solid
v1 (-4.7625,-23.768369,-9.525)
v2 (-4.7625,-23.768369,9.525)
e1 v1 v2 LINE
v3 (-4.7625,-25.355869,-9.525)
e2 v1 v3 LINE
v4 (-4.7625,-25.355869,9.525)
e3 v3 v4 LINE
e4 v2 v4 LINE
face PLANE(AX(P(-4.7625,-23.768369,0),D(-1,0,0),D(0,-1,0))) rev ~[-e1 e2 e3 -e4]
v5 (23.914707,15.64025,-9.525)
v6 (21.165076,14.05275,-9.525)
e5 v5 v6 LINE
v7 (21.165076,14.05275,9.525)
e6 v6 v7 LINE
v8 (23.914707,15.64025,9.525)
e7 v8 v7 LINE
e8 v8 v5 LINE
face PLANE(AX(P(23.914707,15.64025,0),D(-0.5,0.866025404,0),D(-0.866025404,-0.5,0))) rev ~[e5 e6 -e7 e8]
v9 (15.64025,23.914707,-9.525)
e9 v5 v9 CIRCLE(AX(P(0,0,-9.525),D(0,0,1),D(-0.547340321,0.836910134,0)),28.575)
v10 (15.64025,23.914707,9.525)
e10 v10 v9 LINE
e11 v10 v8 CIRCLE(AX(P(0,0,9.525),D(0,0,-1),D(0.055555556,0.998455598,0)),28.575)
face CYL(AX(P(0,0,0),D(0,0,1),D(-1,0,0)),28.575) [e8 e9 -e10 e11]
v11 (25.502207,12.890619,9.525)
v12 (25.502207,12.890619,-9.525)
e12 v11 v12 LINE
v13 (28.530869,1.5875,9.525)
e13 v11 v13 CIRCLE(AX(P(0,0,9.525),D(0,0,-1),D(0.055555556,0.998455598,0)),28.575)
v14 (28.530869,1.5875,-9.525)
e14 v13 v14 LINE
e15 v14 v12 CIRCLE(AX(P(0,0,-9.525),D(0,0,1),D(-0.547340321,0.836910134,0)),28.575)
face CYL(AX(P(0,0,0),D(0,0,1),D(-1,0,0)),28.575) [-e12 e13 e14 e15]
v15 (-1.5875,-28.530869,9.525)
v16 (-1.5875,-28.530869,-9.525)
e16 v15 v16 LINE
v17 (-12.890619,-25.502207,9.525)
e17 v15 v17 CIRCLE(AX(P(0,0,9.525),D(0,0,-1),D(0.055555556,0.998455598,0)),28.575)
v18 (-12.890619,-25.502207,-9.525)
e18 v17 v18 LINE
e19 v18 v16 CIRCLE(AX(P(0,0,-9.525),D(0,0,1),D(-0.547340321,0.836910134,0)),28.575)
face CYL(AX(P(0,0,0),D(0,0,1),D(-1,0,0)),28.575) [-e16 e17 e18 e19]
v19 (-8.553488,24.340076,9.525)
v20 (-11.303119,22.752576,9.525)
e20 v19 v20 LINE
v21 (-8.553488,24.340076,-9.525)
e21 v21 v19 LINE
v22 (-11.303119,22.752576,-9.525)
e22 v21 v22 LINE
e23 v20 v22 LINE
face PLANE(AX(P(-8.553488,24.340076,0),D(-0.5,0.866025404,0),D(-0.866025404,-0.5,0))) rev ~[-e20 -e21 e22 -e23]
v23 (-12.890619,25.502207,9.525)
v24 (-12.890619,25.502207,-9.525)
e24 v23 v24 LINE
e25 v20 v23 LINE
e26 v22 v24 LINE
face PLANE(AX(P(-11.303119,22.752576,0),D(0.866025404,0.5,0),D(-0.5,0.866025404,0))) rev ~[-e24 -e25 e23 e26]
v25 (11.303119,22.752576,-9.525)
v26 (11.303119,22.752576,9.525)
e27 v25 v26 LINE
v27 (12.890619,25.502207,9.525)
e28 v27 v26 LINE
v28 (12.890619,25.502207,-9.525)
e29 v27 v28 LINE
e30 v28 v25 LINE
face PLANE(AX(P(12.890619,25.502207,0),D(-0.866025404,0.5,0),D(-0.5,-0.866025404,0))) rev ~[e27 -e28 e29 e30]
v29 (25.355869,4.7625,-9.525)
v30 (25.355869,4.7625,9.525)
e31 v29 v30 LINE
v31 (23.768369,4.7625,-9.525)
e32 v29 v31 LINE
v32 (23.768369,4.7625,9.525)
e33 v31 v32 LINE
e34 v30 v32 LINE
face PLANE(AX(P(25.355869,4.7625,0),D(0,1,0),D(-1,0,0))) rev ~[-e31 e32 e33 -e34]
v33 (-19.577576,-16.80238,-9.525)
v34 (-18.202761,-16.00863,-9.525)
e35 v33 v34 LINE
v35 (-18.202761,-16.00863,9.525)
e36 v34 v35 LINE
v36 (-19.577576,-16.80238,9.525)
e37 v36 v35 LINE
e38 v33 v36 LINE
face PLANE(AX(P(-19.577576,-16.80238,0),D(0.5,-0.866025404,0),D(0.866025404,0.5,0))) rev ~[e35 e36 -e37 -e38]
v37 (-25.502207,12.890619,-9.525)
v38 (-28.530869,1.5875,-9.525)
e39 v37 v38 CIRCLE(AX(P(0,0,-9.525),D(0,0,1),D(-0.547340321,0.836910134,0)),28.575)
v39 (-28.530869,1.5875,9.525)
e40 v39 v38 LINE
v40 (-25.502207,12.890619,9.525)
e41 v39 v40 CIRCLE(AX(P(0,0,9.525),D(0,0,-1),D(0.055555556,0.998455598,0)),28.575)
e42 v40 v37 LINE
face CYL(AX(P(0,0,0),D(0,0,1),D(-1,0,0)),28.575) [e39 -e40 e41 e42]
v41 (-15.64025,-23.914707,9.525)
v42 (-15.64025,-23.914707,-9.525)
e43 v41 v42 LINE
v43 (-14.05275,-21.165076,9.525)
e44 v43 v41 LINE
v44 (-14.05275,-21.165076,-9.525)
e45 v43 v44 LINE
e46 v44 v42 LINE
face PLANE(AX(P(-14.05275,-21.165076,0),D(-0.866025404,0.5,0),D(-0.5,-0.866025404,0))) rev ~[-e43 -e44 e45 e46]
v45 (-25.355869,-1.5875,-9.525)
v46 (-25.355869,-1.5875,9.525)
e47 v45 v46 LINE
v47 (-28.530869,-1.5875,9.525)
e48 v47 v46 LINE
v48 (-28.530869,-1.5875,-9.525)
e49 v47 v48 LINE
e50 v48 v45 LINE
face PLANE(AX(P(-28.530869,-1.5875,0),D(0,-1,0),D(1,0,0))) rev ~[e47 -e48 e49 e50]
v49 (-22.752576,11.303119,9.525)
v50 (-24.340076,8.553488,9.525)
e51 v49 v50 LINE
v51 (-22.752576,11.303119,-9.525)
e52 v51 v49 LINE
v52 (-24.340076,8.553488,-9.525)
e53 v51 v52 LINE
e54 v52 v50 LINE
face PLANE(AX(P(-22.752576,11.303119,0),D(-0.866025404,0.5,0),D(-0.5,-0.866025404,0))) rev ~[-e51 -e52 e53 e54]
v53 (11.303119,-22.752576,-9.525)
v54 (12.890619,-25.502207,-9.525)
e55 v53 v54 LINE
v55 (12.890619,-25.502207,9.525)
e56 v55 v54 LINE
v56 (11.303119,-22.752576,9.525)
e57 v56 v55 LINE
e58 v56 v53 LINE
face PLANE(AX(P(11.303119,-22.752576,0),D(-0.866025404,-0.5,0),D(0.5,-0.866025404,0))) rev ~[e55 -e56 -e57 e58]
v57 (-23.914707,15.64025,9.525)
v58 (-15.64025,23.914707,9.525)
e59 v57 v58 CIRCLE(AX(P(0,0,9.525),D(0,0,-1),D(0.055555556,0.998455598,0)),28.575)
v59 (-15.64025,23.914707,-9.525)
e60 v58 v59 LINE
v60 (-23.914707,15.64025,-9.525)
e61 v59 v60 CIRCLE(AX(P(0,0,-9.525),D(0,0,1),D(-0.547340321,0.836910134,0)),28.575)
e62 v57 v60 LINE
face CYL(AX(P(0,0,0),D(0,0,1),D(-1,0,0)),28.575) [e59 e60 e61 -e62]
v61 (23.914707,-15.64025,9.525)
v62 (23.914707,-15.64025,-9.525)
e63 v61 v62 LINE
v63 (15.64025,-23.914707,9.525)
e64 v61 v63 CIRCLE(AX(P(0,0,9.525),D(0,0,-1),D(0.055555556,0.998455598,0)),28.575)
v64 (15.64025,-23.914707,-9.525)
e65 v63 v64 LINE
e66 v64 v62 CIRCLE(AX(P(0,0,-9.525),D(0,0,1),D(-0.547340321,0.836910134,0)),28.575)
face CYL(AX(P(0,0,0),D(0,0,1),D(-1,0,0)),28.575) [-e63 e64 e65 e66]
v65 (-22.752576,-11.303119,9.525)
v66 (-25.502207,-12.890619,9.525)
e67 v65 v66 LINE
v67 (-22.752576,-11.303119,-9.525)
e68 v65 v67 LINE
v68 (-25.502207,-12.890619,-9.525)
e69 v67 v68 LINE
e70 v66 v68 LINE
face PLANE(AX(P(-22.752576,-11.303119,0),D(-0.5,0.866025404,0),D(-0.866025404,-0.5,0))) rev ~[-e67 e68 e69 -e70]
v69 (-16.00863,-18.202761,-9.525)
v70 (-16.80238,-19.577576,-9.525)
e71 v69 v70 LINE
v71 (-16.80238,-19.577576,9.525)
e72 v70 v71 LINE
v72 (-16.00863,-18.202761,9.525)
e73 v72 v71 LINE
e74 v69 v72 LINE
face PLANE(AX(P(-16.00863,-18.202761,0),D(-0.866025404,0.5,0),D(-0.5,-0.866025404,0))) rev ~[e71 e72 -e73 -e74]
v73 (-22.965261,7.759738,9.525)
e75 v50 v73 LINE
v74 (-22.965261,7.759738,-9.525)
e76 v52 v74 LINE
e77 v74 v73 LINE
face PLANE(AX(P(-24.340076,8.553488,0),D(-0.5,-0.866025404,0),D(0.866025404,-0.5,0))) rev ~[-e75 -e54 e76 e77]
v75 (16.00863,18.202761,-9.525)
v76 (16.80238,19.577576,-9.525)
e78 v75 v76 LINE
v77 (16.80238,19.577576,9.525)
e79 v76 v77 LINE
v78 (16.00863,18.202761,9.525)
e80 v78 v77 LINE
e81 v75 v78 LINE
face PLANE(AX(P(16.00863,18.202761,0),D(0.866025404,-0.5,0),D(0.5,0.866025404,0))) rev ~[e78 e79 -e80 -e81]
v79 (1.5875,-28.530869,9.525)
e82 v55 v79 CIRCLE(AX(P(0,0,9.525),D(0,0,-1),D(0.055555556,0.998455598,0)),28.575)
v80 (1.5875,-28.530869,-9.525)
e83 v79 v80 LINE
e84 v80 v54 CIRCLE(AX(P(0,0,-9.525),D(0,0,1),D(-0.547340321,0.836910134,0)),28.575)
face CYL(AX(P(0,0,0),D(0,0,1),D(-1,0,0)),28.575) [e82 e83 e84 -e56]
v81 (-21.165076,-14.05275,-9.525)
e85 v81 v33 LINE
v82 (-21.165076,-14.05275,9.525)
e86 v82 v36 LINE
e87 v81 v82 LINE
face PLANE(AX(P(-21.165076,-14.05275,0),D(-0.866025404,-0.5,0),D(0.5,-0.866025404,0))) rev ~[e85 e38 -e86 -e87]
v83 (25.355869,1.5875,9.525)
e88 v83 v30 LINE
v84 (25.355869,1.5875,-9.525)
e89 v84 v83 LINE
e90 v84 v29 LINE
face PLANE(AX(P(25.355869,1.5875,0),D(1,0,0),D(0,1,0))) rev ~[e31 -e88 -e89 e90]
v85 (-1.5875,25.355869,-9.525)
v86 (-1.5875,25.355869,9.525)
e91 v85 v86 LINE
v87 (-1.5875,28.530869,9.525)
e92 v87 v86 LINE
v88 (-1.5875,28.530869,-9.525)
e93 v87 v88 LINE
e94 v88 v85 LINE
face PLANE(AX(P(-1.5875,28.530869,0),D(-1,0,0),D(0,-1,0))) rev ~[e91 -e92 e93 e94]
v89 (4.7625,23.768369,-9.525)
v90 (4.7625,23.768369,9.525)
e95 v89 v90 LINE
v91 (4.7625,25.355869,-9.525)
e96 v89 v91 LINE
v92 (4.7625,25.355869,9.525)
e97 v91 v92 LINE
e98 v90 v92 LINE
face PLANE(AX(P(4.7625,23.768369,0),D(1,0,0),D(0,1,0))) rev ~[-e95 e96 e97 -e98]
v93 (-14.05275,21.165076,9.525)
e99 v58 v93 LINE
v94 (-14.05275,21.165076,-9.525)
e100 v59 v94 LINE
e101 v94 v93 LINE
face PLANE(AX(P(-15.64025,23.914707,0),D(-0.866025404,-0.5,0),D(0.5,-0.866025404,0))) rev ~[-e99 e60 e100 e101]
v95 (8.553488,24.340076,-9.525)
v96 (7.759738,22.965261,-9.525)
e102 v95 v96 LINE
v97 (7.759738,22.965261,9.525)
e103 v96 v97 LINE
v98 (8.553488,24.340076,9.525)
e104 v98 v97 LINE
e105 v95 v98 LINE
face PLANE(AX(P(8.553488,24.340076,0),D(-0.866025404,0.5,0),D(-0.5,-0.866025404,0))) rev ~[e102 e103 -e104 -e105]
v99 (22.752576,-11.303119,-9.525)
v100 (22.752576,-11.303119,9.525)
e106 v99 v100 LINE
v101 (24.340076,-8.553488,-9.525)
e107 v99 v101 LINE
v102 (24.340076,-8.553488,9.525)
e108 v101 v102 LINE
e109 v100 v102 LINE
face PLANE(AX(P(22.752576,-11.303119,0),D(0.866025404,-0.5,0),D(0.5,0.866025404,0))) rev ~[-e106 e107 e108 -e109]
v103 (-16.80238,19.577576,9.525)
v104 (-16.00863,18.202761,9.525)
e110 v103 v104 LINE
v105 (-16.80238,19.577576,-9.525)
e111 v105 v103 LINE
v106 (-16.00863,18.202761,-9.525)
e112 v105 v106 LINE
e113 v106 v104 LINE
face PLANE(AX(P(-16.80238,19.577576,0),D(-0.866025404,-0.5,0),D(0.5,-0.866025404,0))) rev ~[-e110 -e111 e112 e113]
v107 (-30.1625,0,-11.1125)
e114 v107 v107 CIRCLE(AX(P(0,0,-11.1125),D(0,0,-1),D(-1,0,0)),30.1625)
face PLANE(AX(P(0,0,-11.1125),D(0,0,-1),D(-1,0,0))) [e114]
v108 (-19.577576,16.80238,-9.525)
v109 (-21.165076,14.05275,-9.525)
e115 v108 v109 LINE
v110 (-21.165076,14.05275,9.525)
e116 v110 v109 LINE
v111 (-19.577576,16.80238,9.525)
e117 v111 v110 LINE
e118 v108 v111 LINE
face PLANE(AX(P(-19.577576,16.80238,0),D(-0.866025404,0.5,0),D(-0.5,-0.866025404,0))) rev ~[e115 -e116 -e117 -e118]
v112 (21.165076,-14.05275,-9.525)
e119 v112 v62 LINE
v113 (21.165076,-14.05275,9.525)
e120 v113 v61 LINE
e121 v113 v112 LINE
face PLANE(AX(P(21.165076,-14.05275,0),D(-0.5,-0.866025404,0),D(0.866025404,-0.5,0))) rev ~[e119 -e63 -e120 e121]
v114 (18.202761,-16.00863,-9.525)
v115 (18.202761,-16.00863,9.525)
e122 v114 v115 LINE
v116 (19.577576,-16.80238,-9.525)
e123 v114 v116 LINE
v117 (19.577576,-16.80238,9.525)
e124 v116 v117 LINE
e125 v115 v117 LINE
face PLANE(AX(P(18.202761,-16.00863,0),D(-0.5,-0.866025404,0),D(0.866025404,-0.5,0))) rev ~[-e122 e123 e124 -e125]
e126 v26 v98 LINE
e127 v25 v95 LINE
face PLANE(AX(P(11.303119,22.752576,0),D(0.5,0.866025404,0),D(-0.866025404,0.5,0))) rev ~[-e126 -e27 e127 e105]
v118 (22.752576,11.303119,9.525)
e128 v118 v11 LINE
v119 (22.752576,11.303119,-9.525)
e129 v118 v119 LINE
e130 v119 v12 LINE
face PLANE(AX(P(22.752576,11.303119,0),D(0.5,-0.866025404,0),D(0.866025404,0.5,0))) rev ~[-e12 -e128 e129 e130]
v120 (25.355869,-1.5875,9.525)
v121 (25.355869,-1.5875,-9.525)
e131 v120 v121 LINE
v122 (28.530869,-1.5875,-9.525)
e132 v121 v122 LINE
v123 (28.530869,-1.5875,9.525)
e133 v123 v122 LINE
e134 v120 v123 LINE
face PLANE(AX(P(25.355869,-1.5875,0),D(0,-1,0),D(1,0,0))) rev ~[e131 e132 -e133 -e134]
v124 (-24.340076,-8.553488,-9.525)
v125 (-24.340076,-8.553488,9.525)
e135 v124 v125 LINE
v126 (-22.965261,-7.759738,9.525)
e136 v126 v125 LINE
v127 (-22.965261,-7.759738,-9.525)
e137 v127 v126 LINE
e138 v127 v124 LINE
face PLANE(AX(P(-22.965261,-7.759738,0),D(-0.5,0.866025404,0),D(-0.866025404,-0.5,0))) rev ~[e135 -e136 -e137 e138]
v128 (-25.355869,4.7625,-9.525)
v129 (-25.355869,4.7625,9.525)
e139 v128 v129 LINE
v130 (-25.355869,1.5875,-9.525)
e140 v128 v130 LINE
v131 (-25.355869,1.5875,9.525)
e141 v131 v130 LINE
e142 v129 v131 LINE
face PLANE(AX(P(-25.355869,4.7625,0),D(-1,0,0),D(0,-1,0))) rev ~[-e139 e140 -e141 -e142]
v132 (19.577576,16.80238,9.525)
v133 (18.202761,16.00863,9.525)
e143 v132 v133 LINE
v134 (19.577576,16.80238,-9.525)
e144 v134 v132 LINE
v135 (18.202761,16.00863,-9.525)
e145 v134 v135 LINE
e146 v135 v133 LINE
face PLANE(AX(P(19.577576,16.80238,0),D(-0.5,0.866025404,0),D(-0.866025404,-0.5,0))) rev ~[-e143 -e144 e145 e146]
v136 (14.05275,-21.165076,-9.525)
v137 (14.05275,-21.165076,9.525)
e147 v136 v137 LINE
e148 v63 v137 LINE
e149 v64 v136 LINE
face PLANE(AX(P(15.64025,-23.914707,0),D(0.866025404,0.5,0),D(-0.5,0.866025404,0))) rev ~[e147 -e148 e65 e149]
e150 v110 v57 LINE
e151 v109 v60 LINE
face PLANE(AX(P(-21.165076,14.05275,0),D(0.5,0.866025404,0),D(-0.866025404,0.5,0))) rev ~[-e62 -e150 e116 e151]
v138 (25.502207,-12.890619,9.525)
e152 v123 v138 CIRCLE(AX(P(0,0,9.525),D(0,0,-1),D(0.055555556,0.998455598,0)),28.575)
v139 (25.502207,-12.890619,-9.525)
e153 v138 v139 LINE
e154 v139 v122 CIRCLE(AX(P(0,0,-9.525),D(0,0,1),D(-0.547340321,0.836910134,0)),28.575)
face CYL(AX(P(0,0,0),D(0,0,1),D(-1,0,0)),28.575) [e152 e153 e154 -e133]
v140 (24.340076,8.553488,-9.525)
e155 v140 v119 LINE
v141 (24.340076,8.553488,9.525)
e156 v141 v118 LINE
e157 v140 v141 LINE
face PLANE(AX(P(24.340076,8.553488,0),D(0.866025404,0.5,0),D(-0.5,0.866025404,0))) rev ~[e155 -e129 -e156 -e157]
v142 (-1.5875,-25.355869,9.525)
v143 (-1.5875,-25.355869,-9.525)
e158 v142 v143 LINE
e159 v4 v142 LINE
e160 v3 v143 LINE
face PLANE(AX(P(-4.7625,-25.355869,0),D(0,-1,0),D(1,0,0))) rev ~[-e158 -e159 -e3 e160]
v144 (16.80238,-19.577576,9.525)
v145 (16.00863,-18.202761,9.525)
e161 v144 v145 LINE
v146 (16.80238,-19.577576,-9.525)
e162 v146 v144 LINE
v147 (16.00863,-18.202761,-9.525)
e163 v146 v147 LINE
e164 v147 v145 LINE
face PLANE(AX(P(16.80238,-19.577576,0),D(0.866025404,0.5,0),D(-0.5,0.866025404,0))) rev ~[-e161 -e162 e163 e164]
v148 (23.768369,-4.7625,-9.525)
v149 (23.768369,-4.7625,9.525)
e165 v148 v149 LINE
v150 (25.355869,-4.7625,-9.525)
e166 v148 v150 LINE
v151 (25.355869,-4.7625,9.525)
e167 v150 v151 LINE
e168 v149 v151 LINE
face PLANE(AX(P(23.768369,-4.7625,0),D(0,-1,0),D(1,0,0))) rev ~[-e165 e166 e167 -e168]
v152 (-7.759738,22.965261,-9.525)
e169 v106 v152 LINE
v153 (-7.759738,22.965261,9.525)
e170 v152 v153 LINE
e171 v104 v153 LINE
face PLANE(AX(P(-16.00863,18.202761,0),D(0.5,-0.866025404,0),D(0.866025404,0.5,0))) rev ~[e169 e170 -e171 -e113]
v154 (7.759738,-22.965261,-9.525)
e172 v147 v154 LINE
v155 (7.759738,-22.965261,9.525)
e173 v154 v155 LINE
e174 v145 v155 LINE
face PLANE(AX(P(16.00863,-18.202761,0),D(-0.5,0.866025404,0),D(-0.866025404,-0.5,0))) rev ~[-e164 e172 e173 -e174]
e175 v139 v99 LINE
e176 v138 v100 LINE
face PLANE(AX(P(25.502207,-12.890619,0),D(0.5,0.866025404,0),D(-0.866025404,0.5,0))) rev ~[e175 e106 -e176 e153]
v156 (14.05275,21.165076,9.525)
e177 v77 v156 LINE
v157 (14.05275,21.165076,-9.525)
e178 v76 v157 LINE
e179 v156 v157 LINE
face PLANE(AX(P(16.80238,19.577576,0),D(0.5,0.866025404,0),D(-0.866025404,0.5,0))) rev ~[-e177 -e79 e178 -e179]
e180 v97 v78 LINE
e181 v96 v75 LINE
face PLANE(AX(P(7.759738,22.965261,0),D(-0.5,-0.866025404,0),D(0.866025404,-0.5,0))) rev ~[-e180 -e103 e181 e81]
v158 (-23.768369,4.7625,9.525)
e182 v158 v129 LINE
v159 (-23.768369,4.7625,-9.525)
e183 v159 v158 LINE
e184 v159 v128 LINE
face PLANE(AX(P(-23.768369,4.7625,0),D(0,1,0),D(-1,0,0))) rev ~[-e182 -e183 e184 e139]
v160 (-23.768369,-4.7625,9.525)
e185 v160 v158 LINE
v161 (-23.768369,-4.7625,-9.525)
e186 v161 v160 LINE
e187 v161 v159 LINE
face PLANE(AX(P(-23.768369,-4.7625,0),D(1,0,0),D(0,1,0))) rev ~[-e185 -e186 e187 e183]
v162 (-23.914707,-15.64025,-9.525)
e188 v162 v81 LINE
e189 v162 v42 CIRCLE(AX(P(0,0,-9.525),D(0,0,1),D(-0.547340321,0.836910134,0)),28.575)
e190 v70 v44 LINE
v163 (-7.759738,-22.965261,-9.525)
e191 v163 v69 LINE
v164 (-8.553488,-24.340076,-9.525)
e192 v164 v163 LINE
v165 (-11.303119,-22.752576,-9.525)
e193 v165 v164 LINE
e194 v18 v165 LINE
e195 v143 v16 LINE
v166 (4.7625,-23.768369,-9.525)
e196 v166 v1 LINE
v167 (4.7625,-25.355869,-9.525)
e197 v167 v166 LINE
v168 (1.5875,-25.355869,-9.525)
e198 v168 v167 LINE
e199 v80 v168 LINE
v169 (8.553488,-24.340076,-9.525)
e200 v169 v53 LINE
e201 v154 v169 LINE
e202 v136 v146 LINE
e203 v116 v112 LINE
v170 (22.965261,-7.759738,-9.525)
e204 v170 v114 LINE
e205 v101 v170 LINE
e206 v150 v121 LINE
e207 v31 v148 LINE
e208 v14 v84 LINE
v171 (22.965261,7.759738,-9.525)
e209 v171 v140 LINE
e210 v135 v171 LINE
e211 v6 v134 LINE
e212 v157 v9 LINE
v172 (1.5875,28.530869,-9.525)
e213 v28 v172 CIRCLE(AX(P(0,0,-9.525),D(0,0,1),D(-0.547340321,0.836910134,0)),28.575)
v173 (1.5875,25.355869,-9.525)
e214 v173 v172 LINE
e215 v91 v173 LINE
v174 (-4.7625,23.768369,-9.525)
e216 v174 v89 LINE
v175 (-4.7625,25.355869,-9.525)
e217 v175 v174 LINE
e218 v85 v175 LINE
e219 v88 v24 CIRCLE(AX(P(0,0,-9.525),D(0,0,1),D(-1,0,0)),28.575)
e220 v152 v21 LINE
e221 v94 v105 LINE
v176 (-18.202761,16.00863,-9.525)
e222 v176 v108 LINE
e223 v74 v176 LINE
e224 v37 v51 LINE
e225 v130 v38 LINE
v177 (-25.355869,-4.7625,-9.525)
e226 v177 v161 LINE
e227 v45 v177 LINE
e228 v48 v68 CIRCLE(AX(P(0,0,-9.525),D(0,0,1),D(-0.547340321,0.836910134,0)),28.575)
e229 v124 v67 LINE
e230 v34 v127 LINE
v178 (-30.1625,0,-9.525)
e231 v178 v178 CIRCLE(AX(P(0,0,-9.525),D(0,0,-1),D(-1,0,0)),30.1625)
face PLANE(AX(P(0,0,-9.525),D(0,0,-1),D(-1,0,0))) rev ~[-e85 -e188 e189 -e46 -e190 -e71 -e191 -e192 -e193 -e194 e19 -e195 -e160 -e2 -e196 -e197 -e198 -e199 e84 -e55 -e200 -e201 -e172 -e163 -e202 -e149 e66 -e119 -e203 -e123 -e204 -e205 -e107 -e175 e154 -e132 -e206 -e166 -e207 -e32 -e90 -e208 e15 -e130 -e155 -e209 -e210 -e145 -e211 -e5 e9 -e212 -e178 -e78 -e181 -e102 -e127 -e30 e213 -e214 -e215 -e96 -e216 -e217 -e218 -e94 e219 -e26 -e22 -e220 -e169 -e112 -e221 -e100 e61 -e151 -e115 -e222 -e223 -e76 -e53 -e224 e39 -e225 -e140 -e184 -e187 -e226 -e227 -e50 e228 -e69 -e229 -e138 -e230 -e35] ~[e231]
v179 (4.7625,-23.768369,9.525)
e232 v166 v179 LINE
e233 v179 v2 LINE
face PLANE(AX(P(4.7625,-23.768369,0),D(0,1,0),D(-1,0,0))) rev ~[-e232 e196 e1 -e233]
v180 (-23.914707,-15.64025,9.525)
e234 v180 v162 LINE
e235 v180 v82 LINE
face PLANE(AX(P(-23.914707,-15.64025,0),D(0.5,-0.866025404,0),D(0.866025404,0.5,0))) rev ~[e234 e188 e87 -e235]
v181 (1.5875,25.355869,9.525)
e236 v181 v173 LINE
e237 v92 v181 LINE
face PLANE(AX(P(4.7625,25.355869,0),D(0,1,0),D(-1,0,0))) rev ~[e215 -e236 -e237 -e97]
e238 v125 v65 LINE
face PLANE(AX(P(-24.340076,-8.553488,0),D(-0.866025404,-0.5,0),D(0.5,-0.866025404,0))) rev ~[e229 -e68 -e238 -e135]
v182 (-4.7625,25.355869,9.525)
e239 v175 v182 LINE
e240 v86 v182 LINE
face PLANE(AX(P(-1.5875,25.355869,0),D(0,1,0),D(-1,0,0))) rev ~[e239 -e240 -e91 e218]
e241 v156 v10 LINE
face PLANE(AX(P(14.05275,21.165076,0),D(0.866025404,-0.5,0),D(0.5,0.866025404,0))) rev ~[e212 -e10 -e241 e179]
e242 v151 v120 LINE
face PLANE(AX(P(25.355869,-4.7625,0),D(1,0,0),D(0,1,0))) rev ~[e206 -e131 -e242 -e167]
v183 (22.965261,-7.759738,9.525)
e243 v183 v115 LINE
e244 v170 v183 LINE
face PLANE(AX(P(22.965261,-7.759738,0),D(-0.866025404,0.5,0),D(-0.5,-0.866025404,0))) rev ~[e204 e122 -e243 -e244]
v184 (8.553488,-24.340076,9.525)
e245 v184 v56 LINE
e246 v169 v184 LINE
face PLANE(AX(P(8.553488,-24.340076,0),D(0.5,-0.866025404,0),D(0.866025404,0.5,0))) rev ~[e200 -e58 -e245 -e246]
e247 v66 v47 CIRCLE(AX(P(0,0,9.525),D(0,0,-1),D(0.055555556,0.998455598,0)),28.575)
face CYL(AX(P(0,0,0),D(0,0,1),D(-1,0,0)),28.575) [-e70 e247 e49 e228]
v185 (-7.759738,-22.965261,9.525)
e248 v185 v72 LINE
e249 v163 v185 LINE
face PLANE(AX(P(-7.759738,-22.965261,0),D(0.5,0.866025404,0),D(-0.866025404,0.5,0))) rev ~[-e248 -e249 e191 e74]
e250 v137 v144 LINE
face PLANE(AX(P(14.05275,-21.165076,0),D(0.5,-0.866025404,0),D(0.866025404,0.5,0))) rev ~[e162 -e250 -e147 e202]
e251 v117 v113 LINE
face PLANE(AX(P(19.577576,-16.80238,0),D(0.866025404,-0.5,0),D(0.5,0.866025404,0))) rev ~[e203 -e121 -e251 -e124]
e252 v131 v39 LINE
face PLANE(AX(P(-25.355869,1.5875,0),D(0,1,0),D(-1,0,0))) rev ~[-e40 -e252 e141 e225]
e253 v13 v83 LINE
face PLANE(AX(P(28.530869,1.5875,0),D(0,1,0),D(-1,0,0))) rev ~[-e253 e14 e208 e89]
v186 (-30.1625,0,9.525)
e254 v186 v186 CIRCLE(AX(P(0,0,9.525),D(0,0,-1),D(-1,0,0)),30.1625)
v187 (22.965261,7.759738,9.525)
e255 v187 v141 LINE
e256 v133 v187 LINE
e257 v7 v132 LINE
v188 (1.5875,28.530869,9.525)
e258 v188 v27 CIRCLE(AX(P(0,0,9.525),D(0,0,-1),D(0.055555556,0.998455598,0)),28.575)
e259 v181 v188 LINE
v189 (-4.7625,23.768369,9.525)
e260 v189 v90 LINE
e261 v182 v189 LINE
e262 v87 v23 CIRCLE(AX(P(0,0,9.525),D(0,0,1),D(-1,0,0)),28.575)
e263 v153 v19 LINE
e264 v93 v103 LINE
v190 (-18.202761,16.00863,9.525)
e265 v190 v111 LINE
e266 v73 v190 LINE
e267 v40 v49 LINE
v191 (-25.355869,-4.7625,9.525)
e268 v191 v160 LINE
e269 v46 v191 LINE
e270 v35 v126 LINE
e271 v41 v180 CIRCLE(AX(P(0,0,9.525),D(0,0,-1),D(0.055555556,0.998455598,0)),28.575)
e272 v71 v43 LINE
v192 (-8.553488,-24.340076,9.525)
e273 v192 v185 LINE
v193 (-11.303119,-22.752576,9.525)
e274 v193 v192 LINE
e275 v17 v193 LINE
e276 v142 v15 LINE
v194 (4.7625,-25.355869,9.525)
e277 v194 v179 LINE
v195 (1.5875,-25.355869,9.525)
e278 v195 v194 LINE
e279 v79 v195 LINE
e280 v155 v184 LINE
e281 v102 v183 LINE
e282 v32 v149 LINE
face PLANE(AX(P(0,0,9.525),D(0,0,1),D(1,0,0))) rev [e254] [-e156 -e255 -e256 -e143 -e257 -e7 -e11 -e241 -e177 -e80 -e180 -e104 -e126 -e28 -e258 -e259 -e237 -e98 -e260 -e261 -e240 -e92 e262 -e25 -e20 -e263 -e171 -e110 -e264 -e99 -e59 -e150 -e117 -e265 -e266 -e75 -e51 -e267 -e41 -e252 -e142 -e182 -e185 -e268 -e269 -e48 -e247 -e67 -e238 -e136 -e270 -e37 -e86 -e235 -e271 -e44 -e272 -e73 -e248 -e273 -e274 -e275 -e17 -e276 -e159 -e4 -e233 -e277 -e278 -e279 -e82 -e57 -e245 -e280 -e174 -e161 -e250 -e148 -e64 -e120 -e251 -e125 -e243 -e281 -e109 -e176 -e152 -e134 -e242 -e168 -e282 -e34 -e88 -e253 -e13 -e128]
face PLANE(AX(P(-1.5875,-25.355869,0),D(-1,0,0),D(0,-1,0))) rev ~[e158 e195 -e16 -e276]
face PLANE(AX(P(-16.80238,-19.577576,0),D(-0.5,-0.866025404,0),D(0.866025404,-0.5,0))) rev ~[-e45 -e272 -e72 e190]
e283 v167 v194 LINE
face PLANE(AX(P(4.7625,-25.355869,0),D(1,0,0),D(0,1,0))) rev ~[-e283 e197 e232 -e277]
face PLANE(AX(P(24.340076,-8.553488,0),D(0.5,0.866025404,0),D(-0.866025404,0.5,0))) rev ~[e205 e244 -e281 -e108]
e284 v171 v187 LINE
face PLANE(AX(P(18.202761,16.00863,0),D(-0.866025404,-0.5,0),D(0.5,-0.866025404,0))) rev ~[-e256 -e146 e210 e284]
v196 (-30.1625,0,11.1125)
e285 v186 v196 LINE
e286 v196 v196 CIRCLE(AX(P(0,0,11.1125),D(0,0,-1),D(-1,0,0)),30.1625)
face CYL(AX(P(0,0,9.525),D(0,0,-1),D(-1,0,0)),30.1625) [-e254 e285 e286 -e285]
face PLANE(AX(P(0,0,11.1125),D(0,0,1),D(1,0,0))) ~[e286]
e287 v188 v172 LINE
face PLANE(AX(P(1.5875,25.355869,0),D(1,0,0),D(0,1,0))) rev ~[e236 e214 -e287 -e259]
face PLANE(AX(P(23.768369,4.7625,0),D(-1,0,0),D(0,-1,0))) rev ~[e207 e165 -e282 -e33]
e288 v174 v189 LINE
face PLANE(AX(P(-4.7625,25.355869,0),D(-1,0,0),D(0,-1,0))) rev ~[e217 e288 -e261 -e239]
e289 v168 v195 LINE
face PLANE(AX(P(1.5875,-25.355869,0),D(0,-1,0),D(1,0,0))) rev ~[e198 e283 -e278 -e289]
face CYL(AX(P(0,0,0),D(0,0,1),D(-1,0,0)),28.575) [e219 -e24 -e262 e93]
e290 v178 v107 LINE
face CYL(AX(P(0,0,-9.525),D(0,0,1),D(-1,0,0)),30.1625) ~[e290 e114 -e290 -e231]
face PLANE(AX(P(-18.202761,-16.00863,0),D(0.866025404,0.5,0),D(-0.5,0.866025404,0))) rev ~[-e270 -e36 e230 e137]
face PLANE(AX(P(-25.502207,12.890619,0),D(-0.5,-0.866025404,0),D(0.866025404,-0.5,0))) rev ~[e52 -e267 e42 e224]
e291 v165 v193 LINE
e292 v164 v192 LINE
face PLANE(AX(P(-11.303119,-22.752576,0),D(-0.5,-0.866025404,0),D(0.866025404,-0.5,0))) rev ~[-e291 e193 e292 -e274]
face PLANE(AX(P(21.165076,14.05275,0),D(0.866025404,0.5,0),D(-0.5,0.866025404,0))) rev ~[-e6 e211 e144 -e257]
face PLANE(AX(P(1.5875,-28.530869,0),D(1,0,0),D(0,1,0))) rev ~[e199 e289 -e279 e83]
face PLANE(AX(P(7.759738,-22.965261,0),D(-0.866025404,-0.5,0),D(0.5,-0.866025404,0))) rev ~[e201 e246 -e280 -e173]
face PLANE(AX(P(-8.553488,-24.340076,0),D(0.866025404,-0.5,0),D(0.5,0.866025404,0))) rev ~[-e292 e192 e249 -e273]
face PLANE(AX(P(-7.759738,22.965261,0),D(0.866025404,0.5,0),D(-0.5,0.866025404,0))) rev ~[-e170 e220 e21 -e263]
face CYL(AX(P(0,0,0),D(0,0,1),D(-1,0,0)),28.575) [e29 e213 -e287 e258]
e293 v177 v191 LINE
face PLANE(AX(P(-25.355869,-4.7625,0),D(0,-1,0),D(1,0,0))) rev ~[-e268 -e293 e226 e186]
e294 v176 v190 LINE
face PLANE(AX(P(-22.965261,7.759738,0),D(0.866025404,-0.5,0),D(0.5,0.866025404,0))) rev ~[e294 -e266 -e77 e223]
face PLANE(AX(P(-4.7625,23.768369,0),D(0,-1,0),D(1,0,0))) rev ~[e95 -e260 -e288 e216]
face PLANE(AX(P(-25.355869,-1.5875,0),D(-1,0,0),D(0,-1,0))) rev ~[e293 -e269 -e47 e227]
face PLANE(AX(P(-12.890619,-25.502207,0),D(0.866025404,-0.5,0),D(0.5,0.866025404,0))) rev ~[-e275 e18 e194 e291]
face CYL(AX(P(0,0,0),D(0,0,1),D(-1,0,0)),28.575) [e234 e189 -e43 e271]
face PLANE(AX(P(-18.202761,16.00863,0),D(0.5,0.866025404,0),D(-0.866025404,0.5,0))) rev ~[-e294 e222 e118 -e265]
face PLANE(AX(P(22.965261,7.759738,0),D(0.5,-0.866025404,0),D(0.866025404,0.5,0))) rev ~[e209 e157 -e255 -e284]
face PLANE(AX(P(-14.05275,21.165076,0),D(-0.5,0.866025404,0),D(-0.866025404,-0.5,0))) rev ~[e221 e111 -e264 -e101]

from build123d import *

# Parameters (mm, degrees)
SKETCH1_R           = 28.575
BOSS_EXTRUDE1_DEPTH = 9.525
CUT_EXTRUDE1_DEPTH  = 9.525
CIRPATTERN1_COUNT   = 12
SKETCH3_R           = 30.1625
BOSS_EXTRUDE2_DEPTH = 1.5875


with BuildPart() as part:
    # Sketch1 → Boss-Extrude1 (new, symmetric)
    with BuildSketch(Plane.XY):
        with Locations(Location((0, 0, 0), (0, 0, 180))):
            Circle(SKETCH1_R)
    extrude(amount=BOSS_EXTRUDE1_DEPTH, both=True)

    # Sketch2 → Cut-Extrude1 (cut, symmetric)
    with BuildSketch(Plane.XY):
        with BuildLine():
            Line((-1.5875, 28.5308687), (-1.5875, 25.3558687))
            Line((-1.5875, 25.3558687), (-4.7625, 25.3558687))
            Line((-4.7625, 25.3558687), (-4.7625, 23.7683687))
            Line((-4.7625, 23.7683687), (4.7625, 23.7683687))
            Line((4.7625, 23.7683687), (4.7625, 25.3558687))
            Line((4.7625, 25.3558687), (1.5875, 25.3558687))
            Line((1.5875, 25.3558687), (1.5875, 28.5308687))
            ThreePointArc((1.5875, 28.5308687), (0, 28.575), (-1.5875, 28.5308687))
        make_face()
    cut_extrude1 = extrude(amount=CUT_EXTRUDE1_DEPTH, both=True, mode=Mode.SUBTRACT)

    # CirPattern1: Cut-Extrude1 ×12 about axis
    cirpattern1_axis = Axis((0, 0, 0), (0, 0, 1))
    for i in range(1, CIRPATTERN1_COUNT):
        add(cut_extrude1.rotate(cirpattern1_axis, i * 360 / CIRPATTERN1_COUNT), mode=Mode.SUBTRACT)

    # Sketch3 → Boss-Extrude2 (add)
    with BuildSketch(Plane(origin=(0, 0, -9.525), x_dir=(-1, 0, 0), z_dir=(0, 0, -1))):
        Circle(SKETCH3_R)
    boss_extrude2 = extrude(amount=BOSS_EXTRUDE2_DEPTH)

    # Mirror1: Boss-Extrude2 across plane
    add(boss_extrude2.mirror(Plane.XY))


solid = part.part
